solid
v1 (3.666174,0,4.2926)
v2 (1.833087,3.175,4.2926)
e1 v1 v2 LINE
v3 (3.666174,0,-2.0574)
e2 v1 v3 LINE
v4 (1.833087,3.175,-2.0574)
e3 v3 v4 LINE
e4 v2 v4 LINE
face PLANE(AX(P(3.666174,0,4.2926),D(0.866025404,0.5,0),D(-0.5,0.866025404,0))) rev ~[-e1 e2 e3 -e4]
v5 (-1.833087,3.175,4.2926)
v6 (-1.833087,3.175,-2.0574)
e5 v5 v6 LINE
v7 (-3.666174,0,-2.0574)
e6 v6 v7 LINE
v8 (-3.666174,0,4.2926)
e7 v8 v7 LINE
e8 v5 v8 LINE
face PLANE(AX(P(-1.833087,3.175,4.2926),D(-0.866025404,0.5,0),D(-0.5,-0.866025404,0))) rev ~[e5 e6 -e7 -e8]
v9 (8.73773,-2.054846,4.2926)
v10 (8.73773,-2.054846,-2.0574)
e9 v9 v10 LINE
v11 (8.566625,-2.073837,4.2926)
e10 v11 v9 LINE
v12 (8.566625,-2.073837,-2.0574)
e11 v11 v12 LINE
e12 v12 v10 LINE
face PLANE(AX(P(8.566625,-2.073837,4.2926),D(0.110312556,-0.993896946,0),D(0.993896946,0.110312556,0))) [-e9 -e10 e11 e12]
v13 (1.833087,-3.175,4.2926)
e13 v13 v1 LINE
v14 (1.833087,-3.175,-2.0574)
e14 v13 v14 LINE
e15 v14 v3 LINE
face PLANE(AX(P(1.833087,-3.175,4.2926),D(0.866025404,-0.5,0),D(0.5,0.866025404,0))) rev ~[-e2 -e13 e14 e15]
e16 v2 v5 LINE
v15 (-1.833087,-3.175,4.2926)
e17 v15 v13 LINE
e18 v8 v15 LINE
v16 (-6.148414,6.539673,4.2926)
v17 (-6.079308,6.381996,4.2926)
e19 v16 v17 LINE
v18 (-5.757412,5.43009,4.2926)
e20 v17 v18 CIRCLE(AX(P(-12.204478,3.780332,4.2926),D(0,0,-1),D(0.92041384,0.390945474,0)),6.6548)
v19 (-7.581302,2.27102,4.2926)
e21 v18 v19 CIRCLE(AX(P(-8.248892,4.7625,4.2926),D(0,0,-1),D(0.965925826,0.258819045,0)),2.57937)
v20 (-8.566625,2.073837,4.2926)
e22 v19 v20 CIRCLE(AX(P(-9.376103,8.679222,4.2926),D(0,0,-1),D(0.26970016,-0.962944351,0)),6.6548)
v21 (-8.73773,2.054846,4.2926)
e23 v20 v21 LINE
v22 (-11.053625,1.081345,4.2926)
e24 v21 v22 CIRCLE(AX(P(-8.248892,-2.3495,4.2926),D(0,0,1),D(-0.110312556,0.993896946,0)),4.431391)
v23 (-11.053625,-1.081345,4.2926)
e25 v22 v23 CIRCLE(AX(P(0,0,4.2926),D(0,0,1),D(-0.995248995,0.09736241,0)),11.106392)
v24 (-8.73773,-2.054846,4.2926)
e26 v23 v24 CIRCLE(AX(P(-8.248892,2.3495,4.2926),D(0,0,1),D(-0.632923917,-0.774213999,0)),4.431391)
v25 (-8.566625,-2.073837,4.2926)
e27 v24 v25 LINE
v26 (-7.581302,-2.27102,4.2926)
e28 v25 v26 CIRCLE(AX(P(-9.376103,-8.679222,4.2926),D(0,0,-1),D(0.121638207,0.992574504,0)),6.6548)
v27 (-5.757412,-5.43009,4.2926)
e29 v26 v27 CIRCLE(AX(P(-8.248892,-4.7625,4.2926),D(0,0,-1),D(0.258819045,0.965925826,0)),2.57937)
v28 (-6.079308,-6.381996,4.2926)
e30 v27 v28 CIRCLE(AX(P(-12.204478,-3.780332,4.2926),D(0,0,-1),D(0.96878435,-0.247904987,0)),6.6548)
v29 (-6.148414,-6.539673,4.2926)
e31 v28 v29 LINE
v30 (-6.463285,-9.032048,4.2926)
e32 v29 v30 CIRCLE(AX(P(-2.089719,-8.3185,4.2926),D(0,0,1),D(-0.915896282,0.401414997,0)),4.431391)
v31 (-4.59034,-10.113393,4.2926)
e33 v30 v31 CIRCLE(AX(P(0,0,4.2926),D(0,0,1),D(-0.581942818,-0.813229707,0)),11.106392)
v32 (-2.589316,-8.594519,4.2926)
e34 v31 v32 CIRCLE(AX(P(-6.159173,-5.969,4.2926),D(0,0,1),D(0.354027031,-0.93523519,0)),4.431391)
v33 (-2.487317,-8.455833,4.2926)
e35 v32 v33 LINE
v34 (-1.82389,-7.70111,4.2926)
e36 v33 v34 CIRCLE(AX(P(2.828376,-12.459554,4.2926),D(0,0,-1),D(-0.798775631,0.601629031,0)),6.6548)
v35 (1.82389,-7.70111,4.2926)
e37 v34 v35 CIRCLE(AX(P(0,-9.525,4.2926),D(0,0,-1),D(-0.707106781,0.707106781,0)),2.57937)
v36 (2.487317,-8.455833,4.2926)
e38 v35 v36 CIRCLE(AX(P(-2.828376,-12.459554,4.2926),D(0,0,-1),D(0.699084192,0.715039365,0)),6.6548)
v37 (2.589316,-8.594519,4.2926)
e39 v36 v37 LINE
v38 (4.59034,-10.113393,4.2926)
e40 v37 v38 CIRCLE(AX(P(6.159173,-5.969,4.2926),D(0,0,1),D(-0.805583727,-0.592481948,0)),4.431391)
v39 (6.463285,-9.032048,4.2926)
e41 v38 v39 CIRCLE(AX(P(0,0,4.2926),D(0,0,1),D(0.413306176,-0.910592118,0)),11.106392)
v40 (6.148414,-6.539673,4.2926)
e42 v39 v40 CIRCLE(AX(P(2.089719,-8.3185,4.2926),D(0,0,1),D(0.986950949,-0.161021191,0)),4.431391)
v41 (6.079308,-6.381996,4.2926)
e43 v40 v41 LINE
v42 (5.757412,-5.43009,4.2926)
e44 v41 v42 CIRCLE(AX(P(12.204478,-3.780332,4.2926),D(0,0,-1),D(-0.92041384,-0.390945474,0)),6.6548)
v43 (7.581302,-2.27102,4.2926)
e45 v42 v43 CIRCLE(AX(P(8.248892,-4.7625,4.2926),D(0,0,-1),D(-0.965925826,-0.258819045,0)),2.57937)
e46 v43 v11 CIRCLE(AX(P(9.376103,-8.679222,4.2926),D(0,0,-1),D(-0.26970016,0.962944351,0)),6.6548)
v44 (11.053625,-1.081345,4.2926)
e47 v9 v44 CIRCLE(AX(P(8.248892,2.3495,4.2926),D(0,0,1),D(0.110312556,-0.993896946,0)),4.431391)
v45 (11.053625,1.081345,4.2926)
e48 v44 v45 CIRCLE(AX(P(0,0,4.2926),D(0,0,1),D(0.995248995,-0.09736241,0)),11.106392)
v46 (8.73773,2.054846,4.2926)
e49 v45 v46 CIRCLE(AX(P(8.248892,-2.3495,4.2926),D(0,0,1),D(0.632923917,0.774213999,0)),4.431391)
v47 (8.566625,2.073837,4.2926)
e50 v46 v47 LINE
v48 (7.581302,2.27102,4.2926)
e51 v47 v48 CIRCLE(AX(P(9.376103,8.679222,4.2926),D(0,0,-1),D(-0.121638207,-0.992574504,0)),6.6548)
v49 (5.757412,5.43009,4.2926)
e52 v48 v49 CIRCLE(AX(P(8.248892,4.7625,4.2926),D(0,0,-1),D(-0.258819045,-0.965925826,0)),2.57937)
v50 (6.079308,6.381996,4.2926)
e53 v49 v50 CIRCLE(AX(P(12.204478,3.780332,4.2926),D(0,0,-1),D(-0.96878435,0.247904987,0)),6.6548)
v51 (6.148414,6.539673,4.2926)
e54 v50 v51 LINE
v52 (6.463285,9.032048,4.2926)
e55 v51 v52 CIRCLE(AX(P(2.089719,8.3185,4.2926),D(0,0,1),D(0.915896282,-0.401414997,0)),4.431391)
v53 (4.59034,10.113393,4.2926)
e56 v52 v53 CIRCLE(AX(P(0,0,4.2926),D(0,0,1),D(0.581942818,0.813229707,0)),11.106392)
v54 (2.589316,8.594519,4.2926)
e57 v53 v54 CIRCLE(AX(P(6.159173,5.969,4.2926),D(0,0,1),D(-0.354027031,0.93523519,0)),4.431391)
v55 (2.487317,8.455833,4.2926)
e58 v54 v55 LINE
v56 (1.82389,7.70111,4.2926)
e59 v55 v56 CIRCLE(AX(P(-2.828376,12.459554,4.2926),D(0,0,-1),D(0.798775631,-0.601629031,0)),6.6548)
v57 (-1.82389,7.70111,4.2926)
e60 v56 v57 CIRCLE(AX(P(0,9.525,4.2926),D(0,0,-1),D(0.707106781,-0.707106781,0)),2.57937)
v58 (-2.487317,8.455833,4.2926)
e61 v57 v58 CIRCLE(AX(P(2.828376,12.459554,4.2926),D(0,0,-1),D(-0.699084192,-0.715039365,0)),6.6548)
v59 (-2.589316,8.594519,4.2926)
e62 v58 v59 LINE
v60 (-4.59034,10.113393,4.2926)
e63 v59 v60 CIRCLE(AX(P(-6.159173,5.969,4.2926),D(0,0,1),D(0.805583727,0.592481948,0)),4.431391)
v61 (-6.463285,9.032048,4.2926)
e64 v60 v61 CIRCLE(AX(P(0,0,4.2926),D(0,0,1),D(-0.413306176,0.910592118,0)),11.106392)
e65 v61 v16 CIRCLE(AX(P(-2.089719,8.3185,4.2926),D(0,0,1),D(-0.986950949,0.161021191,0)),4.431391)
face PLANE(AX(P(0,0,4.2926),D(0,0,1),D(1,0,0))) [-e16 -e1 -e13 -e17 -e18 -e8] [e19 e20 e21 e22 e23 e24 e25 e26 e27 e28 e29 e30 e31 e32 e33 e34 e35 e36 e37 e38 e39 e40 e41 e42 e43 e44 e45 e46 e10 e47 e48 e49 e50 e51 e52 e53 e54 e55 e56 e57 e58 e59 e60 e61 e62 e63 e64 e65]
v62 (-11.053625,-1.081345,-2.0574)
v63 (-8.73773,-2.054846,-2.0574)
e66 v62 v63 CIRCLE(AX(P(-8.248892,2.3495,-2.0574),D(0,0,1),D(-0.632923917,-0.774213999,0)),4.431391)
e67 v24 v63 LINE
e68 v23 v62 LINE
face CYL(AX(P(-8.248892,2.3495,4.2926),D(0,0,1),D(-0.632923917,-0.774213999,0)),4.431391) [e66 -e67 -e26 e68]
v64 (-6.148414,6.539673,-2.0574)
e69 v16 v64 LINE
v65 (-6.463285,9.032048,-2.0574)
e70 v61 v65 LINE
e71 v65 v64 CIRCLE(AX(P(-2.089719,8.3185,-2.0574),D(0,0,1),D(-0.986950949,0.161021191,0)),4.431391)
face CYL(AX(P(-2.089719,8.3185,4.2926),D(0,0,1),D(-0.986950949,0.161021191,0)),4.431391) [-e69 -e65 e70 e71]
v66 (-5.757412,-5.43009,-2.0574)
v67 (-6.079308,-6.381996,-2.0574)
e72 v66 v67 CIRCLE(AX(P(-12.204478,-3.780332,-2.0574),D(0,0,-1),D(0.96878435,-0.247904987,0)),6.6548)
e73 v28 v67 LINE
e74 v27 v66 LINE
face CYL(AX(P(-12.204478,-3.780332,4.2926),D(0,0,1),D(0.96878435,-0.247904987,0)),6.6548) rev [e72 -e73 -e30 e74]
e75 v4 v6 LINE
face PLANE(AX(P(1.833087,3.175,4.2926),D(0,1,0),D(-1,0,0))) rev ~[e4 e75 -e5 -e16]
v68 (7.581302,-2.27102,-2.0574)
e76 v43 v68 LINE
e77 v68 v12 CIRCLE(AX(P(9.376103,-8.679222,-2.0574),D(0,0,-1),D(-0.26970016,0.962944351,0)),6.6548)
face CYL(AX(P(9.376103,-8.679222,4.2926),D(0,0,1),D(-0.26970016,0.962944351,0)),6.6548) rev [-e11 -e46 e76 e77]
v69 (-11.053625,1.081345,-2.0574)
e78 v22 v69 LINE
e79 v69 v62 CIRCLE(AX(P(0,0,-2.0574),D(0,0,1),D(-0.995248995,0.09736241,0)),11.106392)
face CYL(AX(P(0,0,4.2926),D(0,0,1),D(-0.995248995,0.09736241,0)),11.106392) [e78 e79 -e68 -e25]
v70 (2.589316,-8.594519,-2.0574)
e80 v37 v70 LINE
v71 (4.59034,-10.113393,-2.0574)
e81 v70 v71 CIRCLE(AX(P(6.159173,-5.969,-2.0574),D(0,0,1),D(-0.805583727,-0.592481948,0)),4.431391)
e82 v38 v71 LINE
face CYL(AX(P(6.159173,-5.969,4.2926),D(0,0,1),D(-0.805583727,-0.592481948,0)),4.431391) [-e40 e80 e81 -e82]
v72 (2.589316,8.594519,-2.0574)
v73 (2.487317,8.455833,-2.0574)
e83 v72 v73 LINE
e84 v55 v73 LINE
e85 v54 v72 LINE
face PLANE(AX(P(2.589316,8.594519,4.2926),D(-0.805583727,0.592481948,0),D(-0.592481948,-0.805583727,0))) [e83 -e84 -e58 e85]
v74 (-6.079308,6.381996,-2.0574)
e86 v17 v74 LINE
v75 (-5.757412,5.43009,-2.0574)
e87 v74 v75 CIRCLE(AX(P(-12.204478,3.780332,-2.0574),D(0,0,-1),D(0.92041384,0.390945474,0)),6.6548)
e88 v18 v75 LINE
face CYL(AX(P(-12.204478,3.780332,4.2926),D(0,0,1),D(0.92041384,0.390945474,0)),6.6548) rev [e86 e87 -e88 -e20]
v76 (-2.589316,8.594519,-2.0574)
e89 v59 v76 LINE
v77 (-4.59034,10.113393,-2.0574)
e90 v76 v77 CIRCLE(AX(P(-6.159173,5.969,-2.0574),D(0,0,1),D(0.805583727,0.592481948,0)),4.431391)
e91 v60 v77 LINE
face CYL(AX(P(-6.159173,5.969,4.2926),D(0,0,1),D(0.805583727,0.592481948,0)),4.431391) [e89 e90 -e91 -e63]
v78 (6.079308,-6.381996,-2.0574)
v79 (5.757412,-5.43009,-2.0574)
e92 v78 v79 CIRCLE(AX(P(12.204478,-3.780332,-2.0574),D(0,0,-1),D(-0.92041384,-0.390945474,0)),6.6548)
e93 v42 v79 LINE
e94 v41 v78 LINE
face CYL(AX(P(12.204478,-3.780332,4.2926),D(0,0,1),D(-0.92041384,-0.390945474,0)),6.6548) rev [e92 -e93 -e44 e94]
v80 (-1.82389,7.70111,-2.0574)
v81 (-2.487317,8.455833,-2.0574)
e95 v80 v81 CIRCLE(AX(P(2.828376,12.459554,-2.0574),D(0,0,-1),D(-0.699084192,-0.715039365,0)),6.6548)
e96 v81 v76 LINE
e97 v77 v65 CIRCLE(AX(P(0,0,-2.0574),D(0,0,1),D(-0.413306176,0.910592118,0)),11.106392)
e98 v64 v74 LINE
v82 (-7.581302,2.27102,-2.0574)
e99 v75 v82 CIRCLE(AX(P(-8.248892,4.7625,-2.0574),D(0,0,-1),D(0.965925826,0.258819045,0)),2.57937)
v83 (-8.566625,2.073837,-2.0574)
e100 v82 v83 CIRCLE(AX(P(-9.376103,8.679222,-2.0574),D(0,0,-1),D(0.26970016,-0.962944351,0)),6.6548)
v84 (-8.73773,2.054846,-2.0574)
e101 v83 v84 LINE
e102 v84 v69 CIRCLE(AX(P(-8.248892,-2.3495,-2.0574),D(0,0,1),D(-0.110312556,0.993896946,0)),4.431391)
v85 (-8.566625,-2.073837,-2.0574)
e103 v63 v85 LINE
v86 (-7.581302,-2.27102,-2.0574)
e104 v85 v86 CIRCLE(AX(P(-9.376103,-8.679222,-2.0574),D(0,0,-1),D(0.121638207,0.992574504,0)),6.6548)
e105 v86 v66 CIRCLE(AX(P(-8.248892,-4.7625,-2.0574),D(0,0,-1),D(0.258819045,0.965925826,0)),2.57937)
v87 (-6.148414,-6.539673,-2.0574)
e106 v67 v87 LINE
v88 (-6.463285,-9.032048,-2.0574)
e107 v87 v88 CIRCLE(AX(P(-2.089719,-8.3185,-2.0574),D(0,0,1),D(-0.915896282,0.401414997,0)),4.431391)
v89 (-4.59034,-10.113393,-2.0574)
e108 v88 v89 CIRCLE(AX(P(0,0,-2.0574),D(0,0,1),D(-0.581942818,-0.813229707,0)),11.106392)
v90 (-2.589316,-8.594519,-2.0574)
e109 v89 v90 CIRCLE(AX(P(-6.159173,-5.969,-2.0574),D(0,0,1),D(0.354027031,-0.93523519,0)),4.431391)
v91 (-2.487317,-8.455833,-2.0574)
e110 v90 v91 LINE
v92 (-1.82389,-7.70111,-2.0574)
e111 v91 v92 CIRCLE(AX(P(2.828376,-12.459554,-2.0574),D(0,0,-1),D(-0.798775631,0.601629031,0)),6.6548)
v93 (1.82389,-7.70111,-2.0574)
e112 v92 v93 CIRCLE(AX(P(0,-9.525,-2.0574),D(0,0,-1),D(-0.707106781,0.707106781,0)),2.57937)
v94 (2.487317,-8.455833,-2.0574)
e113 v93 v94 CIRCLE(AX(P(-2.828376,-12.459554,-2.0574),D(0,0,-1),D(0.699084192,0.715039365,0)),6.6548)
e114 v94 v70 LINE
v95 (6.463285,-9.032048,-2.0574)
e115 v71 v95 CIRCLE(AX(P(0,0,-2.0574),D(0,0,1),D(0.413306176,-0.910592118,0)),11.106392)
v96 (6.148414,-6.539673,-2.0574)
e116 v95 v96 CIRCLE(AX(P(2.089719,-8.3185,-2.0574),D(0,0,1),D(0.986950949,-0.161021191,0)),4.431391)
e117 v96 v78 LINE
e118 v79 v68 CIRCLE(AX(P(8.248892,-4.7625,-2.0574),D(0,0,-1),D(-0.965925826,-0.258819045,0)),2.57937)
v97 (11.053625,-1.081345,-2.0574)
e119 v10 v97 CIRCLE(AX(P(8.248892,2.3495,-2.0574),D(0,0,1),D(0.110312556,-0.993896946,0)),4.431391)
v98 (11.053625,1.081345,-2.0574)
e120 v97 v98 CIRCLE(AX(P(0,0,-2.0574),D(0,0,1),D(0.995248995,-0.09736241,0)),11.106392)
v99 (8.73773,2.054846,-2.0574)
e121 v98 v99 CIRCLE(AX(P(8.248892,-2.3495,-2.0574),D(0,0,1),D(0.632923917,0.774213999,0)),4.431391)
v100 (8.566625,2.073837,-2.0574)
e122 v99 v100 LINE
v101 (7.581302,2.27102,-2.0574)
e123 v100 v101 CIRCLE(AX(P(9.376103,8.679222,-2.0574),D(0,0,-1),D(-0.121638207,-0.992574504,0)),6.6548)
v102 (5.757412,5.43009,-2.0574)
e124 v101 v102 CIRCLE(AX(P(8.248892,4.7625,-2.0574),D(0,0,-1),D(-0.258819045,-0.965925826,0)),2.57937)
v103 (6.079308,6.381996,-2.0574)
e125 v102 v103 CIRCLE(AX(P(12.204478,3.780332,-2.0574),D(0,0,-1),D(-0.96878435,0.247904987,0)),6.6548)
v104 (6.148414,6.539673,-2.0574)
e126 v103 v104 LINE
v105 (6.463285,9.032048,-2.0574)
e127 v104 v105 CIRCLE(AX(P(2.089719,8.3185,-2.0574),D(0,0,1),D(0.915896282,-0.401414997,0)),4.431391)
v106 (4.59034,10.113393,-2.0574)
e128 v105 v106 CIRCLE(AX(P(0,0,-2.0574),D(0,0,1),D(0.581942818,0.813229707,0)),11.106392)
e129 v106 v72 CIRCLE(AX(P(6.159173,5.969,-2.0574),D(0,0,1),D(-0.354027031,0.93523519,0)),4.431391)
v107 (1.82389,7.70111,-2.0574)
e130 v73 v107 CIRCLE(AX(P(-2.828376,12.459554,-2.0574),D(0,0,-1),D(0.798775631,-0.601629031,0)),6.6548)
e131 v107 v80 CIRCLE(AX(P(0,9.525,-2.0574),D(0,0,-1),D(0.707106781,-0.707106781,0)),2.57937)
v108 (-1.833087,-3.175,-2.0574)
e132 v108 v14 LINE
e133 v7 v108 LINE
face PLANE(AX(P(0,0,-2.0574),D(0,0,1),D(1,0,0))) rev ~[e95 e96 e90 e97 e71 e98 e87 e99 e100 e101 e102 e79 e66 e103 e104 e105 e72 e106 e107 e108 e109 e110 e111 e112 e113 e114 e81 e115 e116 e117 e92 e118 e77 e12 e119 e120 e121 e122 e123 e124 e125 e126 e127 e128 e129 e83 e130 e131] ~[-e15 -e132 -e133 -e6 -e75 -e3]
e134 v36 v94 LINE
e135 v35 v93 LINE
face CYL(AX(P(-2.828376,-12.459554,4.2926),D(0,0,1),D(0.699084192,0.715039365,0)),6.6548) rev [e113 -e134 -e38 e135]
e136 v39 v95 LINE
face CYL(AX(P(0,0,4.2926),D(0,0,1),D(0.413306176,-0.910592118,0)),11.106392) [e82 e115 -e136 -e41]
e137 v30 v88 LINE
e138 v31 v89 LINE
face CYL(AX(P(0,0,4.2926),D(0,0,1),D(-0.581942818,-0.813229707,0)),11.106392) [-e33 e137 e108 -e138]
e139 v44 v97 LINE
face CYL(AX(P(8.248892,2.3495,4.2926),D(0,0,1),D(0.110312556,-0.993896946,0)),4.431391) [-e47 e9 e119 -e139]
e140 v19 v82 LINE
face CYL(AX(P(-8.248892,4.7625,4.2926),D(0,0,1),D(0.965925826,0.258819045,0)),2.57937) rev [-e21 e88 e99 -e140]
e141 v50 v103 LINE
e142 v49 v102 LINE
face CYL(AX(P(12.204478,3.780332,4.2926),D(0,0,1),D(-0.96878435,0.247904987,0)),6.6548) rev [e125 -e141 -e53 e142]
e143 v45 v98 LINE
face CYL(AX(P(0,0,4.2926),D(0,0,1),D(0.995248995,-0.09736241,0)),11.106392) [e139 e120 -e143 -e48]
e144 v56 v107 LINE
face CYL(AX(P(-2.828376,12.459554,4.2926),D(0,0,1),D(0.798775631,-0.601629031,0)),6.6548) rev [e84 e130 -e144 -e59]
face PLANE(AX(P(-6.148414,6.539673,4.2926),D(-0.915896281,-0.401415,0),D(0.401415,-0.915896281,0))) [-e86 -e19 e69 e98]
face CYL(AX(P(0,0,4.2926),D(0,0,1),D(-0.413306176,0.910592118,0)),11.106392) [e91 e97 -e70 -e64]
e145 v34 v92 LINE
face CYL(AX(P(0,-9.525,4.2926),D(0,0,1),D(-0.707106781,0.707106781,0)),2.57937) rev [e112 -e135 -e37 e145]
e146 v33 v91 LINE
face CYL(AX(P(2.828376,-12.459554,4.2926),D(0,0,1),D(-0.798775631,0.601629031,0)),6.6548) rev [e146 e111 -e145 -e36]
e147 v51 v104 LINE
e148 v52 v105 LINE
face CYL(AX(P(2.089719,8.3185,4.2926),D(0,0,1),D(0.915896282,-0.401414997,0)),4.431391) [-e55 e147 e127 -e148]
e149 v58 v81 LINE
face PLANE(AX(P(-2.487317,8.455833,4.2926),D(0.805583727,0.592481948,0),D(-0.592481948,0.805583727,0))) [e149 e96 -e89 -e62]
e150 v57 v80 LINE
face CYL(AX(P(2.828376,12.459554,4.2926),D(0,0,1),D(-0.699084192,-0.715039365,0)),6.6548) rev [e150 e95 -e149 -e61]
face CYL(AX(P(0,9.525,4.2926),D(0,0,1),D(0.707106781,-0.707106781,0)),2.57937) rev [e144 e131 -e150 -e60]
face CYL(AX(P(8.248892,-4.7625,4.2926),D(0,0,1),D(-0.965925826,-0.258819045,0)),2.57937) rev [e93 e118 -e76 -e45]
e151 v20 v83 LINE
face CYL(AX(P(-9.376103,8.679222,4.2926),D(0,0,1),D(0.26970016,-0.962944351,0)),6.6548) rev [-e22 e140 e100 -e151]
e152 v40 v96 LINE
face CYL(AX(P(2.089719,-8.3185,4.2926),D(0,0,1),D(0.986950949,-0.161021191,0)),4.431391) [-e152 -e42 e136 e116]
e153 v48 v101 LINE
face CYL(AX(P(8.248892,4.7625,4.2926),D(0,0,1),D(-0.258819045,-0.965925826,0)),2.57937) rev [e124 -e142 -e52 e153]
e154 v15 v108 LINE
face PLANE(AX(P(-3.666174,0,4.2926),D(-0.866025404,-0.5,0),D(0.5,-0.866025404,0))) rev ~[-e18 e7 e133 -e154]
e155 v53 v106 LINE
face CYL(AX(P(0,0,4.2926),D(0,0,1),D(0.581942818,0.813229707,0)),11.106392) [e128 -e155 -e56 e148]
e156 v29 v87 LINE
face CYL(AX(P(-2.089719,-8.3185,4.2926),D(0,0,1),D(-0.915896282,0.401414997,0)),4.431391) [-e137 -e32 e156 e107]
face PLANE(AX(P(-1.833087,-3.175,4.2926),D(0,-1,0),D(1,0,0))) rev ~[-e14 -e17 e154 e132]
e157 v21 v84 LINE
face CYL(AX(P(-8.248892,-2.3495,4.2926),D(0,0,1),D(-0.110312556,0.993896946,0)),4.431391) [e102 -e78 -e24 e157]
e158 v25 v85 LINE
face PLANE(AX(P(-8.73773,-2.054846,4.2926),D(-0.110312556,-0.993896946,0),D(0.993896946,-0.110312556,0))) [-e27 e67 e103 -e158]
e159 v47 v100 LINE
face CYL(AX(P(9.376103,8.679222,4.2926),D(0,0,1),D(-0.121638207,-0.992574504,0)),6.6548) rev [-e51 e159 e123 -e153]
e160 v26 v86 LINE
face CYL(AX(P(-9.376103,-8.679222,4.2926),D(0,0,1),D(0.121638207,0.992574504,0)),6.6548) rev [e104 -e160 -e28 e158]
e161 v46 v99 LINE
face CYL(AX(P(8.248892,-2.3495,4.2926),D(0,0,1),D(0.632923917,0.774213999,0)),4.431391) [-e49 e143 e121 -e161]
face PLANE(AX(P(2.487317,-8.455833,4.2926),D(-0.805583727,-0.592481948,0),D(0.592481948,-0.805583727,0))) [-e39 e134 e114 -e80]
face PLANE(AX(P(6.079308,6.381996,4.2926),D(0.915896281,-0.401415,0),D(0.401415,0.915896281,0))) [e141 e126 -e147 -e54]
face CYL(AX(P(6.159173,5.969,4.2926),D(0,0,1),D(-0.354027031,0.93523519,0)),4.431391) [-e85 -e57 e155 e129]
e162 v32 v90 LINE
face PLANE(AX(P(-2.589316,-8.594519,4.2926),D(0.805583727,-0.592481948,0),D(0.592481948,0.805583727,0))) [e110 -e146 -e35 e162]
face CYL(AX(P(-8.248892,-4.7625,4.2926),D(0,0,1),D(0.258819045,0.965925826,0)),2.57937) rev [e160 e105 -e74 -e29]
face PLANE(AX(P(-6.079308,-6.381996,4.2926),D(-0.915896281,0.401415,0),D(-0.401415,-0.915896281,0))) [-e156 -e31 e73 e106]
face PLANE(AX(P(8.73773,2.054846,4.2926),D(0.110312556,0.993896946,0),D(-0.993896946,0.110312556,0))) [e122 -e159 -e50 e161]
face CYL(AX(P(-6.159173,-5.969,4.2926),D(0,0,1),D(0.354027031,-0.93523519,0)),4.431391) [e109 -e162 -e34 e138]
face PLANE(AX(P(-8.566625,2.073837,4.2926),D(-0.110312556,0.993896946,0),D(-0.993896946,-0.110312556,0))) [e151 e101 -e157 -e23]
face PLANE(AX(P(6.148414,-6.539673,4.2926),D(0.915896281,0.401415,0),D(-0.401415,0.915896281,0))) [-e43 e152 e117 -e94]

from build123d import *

# Parameters (mm, degrees)
BOSS_EXTRUDE1_DEPTH = 6.35
CUT_EXTRUDE1_DEPTH  = 17.308131721


with BuildPart() as part:
    # Sketch1 → Boss-Extrude1 (new body)
    with BuildSketch(Plane.XY.offset(4.2926)):
        with BuildLine():
            Line((-6.148414016, 6.539673115), (-6.079307951, 6.381995928))
            ThreePointArc((-6.079307951, 6.381995928), (-5.900367293, 5.91212738), (-5.757411872, 5.43009008))
            ThreePointArc((-5.757411872, 5.43009008), (-6.015092025, 3.472815), (-7.581301891, 2.271019901))
            ThreePointArc((-7.581301891, 2.271019901), (-8.070236148, 2.153804277), (-8.566624576, 2.073837159))
            Line((-8.566624576, 2.073837159), (-8.737730058, 2.054846173))
            ThreePointArc((-8.737730058, 2.054846173), (-9.966107592, 1.73564362), (-11.053625442, 1.081345092))
            ThreePointArc((-11.053625442, 1.081345092), (-11.106391971, 0), (-11.053625442, -1.081345092))
            ThreePointArc((-11.053625442, -1.081345092), (-9.966107592, -1.73564362), (-8.737730058, -2.054846173))
            Line((-8.737730058, -2.054846173), (-8.566624576, -2.073837159))
            ThreePointArc((-8.566624576, -2.073837159), (-8.070236148, -2.153804277), (-7.581301891, -2.271019901))
            ThreePointArc((-7.581301891, -2.271019901), (-6.015092025, -3.472815), (-5.757411872, -5.43009008))
            ThreePointArc((-5.757411872, -5.43009008), (-5.900367293, -5.91212738), (-6.079307951, -6.381995928))
            Line((-6.079307951, -6.381995928), (-6.148414016, -6.539673115))
            ThreePointArc((-6.148414016, -6.539673115), (-6.486165263, -7.763080542), (-6.463285041, -9.03204789))
            ThreePointArc((-6.463285041, -9.03204789), (-5.553195986, -9.618417591), (-4.590340401, -10.113392982))
            ThreePointArc((-4.590340401, -10.113392982), (-3.479942329, -9.498724162), (-2.589316042, -8.594519288))
            Line((-2.589316042, -8.594519288), (-2.487316625, -8.455833087))
            ThreePointArc((-2.487316625, -8.455833087), (-2.169868855, -8.065931658), (-1.823890018, -7.701109982))
            ThreePointArc((-1.823890018, -7.701109982), (0, -6.94563), (1.823890018, -7.701109982))
            ThreePointArc((1.823890018, -7.701109982), (2.169868855, -8.065931658), (2.487316625, -8.455833087))
            Line((2.487316625, -8.455833087), (2.589316042, -8.594519288))
            ThreePointArc((2.589316042, -8.594519288), (3.479942329, -9.498724162), (4.590340401, -10.113392982))
            ThreePointArc((4.590340401, -10.113392982), (5.553195986, -9.618417591), (6.463285041, -9.03204789))
            ThreePointArc((6.463285041, -9.03204789), (6.486165263, -7.763080542), (6.148414016, -6.539673115))
            Line((6.148414016, -6.539673115), (6.079307951, -6.381995928))
            ThreePointArc((6.079307951, -6.381995928), (5.900367293, -5.91212738), (5.757411872, -5.43009008))
            ThreePointArc((5.757411872, -5.43009008), (6.015092025, -3.472815), (7.581301891, -2.271019901))
            ThreePointArc((7.581301891, -2.271019901), (8.070236148, -2.153804277), (8.566624576, -2.073837159))
            Line((8.566624576, -2.073837159), (8.737730058, -2.054846173))
            ThreePointArc((8.737730058, -2.054846173), (9.966107592, -1.73564362), (11.053625442, -1.081345092))
            ThreePointArc((11.053625442, -1.081345092), (11.106391971, 0), (11.053625442, 1.081345092))
            ThreePointArc((11.053625442, 1.081345092), (9.966107592, 1.73564362), (8.737730058, 2.054846173))
            Line((8.737730058, 2.054846173), (8.566624576, 2.073837159))
            ThreePointArc((8.566624576, 2.073837159), (8.070236148, 2.153804277), (7.581301891, 2.271019901))
            ThreePointArc((7.581301891, 2.271019901), (6.015092025, 3.472815), (5.757411872, 5.43009008))
            ThreePointArc((5.757411872, 5.43009008), (5.900367293, 5.91212738), (6.079307951, 6.381995928))
            Line((6.079307951, 6.381995928), (6.148414016, 6.539673115))
            ThreePointArc((6.148414016, 6.539673115), (6.486165263, 7.763080542), (6.463285041, 9.03204789))
            ThreePointArc((6.463285041, 9.03204789), (5.553195986, 9.618417591), (4.590340401, 10.113392982))
            ThreePointArc((4.590340401, 10.113392982), (3.479942329, 9.498724162), (2.589316042, 8.594519288))
            Line((2.589316042, 8.594519288), (2.487316625, 8.455833087))
            ThreePointArc((2.487316625, 8.455833087), (2.169868855, 8.065931658), (1.823890018, 7.701109982))
            ThreePointArc((1.823890018, 7.701109982), (0, 6.94563), (-1.823890018, 7.701109982))
            ThreePointArc((-1.823890018, 7.701109982), (-2.169868855, 8.065931658), (-2.487316625, 8.455833087))
            Line((-2.487316625, 8.455833087), (-2.589316042, 8.594519288))
            ThreePointArc((-2.589316042, 8.594519288), (-3.479942329, 9.498724162), (-4.590340401, 10.113392982))
            ThreePointArc((-4.590340401, 10.113392982), (-5.553195986, 9.618417591), (-6.463285041, 9.03204789))
            ThreePointArc((-6.463285041, 9.03204789), (-6.486165263, 7.763080542), (-6.148414016, 6.539673115))
        make_face()
    extrude(amount=-BOSS_EXTRUDE1_DEPTH)

    # Sketch2 → Cut-Extrude1 (cut, through all)
    with BuildSketch(Plane.XY.offset(4.2926)):
        Polygon((3.666174209, 0), (1.833087105, 3.175), (-1.833087105, 3.175), (-3.666174209, 0), (-1.833087105, -3.175), (1.833087105, -3.175), align=None)
    extrude(amount=-CUT_EXTRUDE1_DEPTH, mode=Mode.SUBTRACT)


solid = part.part
